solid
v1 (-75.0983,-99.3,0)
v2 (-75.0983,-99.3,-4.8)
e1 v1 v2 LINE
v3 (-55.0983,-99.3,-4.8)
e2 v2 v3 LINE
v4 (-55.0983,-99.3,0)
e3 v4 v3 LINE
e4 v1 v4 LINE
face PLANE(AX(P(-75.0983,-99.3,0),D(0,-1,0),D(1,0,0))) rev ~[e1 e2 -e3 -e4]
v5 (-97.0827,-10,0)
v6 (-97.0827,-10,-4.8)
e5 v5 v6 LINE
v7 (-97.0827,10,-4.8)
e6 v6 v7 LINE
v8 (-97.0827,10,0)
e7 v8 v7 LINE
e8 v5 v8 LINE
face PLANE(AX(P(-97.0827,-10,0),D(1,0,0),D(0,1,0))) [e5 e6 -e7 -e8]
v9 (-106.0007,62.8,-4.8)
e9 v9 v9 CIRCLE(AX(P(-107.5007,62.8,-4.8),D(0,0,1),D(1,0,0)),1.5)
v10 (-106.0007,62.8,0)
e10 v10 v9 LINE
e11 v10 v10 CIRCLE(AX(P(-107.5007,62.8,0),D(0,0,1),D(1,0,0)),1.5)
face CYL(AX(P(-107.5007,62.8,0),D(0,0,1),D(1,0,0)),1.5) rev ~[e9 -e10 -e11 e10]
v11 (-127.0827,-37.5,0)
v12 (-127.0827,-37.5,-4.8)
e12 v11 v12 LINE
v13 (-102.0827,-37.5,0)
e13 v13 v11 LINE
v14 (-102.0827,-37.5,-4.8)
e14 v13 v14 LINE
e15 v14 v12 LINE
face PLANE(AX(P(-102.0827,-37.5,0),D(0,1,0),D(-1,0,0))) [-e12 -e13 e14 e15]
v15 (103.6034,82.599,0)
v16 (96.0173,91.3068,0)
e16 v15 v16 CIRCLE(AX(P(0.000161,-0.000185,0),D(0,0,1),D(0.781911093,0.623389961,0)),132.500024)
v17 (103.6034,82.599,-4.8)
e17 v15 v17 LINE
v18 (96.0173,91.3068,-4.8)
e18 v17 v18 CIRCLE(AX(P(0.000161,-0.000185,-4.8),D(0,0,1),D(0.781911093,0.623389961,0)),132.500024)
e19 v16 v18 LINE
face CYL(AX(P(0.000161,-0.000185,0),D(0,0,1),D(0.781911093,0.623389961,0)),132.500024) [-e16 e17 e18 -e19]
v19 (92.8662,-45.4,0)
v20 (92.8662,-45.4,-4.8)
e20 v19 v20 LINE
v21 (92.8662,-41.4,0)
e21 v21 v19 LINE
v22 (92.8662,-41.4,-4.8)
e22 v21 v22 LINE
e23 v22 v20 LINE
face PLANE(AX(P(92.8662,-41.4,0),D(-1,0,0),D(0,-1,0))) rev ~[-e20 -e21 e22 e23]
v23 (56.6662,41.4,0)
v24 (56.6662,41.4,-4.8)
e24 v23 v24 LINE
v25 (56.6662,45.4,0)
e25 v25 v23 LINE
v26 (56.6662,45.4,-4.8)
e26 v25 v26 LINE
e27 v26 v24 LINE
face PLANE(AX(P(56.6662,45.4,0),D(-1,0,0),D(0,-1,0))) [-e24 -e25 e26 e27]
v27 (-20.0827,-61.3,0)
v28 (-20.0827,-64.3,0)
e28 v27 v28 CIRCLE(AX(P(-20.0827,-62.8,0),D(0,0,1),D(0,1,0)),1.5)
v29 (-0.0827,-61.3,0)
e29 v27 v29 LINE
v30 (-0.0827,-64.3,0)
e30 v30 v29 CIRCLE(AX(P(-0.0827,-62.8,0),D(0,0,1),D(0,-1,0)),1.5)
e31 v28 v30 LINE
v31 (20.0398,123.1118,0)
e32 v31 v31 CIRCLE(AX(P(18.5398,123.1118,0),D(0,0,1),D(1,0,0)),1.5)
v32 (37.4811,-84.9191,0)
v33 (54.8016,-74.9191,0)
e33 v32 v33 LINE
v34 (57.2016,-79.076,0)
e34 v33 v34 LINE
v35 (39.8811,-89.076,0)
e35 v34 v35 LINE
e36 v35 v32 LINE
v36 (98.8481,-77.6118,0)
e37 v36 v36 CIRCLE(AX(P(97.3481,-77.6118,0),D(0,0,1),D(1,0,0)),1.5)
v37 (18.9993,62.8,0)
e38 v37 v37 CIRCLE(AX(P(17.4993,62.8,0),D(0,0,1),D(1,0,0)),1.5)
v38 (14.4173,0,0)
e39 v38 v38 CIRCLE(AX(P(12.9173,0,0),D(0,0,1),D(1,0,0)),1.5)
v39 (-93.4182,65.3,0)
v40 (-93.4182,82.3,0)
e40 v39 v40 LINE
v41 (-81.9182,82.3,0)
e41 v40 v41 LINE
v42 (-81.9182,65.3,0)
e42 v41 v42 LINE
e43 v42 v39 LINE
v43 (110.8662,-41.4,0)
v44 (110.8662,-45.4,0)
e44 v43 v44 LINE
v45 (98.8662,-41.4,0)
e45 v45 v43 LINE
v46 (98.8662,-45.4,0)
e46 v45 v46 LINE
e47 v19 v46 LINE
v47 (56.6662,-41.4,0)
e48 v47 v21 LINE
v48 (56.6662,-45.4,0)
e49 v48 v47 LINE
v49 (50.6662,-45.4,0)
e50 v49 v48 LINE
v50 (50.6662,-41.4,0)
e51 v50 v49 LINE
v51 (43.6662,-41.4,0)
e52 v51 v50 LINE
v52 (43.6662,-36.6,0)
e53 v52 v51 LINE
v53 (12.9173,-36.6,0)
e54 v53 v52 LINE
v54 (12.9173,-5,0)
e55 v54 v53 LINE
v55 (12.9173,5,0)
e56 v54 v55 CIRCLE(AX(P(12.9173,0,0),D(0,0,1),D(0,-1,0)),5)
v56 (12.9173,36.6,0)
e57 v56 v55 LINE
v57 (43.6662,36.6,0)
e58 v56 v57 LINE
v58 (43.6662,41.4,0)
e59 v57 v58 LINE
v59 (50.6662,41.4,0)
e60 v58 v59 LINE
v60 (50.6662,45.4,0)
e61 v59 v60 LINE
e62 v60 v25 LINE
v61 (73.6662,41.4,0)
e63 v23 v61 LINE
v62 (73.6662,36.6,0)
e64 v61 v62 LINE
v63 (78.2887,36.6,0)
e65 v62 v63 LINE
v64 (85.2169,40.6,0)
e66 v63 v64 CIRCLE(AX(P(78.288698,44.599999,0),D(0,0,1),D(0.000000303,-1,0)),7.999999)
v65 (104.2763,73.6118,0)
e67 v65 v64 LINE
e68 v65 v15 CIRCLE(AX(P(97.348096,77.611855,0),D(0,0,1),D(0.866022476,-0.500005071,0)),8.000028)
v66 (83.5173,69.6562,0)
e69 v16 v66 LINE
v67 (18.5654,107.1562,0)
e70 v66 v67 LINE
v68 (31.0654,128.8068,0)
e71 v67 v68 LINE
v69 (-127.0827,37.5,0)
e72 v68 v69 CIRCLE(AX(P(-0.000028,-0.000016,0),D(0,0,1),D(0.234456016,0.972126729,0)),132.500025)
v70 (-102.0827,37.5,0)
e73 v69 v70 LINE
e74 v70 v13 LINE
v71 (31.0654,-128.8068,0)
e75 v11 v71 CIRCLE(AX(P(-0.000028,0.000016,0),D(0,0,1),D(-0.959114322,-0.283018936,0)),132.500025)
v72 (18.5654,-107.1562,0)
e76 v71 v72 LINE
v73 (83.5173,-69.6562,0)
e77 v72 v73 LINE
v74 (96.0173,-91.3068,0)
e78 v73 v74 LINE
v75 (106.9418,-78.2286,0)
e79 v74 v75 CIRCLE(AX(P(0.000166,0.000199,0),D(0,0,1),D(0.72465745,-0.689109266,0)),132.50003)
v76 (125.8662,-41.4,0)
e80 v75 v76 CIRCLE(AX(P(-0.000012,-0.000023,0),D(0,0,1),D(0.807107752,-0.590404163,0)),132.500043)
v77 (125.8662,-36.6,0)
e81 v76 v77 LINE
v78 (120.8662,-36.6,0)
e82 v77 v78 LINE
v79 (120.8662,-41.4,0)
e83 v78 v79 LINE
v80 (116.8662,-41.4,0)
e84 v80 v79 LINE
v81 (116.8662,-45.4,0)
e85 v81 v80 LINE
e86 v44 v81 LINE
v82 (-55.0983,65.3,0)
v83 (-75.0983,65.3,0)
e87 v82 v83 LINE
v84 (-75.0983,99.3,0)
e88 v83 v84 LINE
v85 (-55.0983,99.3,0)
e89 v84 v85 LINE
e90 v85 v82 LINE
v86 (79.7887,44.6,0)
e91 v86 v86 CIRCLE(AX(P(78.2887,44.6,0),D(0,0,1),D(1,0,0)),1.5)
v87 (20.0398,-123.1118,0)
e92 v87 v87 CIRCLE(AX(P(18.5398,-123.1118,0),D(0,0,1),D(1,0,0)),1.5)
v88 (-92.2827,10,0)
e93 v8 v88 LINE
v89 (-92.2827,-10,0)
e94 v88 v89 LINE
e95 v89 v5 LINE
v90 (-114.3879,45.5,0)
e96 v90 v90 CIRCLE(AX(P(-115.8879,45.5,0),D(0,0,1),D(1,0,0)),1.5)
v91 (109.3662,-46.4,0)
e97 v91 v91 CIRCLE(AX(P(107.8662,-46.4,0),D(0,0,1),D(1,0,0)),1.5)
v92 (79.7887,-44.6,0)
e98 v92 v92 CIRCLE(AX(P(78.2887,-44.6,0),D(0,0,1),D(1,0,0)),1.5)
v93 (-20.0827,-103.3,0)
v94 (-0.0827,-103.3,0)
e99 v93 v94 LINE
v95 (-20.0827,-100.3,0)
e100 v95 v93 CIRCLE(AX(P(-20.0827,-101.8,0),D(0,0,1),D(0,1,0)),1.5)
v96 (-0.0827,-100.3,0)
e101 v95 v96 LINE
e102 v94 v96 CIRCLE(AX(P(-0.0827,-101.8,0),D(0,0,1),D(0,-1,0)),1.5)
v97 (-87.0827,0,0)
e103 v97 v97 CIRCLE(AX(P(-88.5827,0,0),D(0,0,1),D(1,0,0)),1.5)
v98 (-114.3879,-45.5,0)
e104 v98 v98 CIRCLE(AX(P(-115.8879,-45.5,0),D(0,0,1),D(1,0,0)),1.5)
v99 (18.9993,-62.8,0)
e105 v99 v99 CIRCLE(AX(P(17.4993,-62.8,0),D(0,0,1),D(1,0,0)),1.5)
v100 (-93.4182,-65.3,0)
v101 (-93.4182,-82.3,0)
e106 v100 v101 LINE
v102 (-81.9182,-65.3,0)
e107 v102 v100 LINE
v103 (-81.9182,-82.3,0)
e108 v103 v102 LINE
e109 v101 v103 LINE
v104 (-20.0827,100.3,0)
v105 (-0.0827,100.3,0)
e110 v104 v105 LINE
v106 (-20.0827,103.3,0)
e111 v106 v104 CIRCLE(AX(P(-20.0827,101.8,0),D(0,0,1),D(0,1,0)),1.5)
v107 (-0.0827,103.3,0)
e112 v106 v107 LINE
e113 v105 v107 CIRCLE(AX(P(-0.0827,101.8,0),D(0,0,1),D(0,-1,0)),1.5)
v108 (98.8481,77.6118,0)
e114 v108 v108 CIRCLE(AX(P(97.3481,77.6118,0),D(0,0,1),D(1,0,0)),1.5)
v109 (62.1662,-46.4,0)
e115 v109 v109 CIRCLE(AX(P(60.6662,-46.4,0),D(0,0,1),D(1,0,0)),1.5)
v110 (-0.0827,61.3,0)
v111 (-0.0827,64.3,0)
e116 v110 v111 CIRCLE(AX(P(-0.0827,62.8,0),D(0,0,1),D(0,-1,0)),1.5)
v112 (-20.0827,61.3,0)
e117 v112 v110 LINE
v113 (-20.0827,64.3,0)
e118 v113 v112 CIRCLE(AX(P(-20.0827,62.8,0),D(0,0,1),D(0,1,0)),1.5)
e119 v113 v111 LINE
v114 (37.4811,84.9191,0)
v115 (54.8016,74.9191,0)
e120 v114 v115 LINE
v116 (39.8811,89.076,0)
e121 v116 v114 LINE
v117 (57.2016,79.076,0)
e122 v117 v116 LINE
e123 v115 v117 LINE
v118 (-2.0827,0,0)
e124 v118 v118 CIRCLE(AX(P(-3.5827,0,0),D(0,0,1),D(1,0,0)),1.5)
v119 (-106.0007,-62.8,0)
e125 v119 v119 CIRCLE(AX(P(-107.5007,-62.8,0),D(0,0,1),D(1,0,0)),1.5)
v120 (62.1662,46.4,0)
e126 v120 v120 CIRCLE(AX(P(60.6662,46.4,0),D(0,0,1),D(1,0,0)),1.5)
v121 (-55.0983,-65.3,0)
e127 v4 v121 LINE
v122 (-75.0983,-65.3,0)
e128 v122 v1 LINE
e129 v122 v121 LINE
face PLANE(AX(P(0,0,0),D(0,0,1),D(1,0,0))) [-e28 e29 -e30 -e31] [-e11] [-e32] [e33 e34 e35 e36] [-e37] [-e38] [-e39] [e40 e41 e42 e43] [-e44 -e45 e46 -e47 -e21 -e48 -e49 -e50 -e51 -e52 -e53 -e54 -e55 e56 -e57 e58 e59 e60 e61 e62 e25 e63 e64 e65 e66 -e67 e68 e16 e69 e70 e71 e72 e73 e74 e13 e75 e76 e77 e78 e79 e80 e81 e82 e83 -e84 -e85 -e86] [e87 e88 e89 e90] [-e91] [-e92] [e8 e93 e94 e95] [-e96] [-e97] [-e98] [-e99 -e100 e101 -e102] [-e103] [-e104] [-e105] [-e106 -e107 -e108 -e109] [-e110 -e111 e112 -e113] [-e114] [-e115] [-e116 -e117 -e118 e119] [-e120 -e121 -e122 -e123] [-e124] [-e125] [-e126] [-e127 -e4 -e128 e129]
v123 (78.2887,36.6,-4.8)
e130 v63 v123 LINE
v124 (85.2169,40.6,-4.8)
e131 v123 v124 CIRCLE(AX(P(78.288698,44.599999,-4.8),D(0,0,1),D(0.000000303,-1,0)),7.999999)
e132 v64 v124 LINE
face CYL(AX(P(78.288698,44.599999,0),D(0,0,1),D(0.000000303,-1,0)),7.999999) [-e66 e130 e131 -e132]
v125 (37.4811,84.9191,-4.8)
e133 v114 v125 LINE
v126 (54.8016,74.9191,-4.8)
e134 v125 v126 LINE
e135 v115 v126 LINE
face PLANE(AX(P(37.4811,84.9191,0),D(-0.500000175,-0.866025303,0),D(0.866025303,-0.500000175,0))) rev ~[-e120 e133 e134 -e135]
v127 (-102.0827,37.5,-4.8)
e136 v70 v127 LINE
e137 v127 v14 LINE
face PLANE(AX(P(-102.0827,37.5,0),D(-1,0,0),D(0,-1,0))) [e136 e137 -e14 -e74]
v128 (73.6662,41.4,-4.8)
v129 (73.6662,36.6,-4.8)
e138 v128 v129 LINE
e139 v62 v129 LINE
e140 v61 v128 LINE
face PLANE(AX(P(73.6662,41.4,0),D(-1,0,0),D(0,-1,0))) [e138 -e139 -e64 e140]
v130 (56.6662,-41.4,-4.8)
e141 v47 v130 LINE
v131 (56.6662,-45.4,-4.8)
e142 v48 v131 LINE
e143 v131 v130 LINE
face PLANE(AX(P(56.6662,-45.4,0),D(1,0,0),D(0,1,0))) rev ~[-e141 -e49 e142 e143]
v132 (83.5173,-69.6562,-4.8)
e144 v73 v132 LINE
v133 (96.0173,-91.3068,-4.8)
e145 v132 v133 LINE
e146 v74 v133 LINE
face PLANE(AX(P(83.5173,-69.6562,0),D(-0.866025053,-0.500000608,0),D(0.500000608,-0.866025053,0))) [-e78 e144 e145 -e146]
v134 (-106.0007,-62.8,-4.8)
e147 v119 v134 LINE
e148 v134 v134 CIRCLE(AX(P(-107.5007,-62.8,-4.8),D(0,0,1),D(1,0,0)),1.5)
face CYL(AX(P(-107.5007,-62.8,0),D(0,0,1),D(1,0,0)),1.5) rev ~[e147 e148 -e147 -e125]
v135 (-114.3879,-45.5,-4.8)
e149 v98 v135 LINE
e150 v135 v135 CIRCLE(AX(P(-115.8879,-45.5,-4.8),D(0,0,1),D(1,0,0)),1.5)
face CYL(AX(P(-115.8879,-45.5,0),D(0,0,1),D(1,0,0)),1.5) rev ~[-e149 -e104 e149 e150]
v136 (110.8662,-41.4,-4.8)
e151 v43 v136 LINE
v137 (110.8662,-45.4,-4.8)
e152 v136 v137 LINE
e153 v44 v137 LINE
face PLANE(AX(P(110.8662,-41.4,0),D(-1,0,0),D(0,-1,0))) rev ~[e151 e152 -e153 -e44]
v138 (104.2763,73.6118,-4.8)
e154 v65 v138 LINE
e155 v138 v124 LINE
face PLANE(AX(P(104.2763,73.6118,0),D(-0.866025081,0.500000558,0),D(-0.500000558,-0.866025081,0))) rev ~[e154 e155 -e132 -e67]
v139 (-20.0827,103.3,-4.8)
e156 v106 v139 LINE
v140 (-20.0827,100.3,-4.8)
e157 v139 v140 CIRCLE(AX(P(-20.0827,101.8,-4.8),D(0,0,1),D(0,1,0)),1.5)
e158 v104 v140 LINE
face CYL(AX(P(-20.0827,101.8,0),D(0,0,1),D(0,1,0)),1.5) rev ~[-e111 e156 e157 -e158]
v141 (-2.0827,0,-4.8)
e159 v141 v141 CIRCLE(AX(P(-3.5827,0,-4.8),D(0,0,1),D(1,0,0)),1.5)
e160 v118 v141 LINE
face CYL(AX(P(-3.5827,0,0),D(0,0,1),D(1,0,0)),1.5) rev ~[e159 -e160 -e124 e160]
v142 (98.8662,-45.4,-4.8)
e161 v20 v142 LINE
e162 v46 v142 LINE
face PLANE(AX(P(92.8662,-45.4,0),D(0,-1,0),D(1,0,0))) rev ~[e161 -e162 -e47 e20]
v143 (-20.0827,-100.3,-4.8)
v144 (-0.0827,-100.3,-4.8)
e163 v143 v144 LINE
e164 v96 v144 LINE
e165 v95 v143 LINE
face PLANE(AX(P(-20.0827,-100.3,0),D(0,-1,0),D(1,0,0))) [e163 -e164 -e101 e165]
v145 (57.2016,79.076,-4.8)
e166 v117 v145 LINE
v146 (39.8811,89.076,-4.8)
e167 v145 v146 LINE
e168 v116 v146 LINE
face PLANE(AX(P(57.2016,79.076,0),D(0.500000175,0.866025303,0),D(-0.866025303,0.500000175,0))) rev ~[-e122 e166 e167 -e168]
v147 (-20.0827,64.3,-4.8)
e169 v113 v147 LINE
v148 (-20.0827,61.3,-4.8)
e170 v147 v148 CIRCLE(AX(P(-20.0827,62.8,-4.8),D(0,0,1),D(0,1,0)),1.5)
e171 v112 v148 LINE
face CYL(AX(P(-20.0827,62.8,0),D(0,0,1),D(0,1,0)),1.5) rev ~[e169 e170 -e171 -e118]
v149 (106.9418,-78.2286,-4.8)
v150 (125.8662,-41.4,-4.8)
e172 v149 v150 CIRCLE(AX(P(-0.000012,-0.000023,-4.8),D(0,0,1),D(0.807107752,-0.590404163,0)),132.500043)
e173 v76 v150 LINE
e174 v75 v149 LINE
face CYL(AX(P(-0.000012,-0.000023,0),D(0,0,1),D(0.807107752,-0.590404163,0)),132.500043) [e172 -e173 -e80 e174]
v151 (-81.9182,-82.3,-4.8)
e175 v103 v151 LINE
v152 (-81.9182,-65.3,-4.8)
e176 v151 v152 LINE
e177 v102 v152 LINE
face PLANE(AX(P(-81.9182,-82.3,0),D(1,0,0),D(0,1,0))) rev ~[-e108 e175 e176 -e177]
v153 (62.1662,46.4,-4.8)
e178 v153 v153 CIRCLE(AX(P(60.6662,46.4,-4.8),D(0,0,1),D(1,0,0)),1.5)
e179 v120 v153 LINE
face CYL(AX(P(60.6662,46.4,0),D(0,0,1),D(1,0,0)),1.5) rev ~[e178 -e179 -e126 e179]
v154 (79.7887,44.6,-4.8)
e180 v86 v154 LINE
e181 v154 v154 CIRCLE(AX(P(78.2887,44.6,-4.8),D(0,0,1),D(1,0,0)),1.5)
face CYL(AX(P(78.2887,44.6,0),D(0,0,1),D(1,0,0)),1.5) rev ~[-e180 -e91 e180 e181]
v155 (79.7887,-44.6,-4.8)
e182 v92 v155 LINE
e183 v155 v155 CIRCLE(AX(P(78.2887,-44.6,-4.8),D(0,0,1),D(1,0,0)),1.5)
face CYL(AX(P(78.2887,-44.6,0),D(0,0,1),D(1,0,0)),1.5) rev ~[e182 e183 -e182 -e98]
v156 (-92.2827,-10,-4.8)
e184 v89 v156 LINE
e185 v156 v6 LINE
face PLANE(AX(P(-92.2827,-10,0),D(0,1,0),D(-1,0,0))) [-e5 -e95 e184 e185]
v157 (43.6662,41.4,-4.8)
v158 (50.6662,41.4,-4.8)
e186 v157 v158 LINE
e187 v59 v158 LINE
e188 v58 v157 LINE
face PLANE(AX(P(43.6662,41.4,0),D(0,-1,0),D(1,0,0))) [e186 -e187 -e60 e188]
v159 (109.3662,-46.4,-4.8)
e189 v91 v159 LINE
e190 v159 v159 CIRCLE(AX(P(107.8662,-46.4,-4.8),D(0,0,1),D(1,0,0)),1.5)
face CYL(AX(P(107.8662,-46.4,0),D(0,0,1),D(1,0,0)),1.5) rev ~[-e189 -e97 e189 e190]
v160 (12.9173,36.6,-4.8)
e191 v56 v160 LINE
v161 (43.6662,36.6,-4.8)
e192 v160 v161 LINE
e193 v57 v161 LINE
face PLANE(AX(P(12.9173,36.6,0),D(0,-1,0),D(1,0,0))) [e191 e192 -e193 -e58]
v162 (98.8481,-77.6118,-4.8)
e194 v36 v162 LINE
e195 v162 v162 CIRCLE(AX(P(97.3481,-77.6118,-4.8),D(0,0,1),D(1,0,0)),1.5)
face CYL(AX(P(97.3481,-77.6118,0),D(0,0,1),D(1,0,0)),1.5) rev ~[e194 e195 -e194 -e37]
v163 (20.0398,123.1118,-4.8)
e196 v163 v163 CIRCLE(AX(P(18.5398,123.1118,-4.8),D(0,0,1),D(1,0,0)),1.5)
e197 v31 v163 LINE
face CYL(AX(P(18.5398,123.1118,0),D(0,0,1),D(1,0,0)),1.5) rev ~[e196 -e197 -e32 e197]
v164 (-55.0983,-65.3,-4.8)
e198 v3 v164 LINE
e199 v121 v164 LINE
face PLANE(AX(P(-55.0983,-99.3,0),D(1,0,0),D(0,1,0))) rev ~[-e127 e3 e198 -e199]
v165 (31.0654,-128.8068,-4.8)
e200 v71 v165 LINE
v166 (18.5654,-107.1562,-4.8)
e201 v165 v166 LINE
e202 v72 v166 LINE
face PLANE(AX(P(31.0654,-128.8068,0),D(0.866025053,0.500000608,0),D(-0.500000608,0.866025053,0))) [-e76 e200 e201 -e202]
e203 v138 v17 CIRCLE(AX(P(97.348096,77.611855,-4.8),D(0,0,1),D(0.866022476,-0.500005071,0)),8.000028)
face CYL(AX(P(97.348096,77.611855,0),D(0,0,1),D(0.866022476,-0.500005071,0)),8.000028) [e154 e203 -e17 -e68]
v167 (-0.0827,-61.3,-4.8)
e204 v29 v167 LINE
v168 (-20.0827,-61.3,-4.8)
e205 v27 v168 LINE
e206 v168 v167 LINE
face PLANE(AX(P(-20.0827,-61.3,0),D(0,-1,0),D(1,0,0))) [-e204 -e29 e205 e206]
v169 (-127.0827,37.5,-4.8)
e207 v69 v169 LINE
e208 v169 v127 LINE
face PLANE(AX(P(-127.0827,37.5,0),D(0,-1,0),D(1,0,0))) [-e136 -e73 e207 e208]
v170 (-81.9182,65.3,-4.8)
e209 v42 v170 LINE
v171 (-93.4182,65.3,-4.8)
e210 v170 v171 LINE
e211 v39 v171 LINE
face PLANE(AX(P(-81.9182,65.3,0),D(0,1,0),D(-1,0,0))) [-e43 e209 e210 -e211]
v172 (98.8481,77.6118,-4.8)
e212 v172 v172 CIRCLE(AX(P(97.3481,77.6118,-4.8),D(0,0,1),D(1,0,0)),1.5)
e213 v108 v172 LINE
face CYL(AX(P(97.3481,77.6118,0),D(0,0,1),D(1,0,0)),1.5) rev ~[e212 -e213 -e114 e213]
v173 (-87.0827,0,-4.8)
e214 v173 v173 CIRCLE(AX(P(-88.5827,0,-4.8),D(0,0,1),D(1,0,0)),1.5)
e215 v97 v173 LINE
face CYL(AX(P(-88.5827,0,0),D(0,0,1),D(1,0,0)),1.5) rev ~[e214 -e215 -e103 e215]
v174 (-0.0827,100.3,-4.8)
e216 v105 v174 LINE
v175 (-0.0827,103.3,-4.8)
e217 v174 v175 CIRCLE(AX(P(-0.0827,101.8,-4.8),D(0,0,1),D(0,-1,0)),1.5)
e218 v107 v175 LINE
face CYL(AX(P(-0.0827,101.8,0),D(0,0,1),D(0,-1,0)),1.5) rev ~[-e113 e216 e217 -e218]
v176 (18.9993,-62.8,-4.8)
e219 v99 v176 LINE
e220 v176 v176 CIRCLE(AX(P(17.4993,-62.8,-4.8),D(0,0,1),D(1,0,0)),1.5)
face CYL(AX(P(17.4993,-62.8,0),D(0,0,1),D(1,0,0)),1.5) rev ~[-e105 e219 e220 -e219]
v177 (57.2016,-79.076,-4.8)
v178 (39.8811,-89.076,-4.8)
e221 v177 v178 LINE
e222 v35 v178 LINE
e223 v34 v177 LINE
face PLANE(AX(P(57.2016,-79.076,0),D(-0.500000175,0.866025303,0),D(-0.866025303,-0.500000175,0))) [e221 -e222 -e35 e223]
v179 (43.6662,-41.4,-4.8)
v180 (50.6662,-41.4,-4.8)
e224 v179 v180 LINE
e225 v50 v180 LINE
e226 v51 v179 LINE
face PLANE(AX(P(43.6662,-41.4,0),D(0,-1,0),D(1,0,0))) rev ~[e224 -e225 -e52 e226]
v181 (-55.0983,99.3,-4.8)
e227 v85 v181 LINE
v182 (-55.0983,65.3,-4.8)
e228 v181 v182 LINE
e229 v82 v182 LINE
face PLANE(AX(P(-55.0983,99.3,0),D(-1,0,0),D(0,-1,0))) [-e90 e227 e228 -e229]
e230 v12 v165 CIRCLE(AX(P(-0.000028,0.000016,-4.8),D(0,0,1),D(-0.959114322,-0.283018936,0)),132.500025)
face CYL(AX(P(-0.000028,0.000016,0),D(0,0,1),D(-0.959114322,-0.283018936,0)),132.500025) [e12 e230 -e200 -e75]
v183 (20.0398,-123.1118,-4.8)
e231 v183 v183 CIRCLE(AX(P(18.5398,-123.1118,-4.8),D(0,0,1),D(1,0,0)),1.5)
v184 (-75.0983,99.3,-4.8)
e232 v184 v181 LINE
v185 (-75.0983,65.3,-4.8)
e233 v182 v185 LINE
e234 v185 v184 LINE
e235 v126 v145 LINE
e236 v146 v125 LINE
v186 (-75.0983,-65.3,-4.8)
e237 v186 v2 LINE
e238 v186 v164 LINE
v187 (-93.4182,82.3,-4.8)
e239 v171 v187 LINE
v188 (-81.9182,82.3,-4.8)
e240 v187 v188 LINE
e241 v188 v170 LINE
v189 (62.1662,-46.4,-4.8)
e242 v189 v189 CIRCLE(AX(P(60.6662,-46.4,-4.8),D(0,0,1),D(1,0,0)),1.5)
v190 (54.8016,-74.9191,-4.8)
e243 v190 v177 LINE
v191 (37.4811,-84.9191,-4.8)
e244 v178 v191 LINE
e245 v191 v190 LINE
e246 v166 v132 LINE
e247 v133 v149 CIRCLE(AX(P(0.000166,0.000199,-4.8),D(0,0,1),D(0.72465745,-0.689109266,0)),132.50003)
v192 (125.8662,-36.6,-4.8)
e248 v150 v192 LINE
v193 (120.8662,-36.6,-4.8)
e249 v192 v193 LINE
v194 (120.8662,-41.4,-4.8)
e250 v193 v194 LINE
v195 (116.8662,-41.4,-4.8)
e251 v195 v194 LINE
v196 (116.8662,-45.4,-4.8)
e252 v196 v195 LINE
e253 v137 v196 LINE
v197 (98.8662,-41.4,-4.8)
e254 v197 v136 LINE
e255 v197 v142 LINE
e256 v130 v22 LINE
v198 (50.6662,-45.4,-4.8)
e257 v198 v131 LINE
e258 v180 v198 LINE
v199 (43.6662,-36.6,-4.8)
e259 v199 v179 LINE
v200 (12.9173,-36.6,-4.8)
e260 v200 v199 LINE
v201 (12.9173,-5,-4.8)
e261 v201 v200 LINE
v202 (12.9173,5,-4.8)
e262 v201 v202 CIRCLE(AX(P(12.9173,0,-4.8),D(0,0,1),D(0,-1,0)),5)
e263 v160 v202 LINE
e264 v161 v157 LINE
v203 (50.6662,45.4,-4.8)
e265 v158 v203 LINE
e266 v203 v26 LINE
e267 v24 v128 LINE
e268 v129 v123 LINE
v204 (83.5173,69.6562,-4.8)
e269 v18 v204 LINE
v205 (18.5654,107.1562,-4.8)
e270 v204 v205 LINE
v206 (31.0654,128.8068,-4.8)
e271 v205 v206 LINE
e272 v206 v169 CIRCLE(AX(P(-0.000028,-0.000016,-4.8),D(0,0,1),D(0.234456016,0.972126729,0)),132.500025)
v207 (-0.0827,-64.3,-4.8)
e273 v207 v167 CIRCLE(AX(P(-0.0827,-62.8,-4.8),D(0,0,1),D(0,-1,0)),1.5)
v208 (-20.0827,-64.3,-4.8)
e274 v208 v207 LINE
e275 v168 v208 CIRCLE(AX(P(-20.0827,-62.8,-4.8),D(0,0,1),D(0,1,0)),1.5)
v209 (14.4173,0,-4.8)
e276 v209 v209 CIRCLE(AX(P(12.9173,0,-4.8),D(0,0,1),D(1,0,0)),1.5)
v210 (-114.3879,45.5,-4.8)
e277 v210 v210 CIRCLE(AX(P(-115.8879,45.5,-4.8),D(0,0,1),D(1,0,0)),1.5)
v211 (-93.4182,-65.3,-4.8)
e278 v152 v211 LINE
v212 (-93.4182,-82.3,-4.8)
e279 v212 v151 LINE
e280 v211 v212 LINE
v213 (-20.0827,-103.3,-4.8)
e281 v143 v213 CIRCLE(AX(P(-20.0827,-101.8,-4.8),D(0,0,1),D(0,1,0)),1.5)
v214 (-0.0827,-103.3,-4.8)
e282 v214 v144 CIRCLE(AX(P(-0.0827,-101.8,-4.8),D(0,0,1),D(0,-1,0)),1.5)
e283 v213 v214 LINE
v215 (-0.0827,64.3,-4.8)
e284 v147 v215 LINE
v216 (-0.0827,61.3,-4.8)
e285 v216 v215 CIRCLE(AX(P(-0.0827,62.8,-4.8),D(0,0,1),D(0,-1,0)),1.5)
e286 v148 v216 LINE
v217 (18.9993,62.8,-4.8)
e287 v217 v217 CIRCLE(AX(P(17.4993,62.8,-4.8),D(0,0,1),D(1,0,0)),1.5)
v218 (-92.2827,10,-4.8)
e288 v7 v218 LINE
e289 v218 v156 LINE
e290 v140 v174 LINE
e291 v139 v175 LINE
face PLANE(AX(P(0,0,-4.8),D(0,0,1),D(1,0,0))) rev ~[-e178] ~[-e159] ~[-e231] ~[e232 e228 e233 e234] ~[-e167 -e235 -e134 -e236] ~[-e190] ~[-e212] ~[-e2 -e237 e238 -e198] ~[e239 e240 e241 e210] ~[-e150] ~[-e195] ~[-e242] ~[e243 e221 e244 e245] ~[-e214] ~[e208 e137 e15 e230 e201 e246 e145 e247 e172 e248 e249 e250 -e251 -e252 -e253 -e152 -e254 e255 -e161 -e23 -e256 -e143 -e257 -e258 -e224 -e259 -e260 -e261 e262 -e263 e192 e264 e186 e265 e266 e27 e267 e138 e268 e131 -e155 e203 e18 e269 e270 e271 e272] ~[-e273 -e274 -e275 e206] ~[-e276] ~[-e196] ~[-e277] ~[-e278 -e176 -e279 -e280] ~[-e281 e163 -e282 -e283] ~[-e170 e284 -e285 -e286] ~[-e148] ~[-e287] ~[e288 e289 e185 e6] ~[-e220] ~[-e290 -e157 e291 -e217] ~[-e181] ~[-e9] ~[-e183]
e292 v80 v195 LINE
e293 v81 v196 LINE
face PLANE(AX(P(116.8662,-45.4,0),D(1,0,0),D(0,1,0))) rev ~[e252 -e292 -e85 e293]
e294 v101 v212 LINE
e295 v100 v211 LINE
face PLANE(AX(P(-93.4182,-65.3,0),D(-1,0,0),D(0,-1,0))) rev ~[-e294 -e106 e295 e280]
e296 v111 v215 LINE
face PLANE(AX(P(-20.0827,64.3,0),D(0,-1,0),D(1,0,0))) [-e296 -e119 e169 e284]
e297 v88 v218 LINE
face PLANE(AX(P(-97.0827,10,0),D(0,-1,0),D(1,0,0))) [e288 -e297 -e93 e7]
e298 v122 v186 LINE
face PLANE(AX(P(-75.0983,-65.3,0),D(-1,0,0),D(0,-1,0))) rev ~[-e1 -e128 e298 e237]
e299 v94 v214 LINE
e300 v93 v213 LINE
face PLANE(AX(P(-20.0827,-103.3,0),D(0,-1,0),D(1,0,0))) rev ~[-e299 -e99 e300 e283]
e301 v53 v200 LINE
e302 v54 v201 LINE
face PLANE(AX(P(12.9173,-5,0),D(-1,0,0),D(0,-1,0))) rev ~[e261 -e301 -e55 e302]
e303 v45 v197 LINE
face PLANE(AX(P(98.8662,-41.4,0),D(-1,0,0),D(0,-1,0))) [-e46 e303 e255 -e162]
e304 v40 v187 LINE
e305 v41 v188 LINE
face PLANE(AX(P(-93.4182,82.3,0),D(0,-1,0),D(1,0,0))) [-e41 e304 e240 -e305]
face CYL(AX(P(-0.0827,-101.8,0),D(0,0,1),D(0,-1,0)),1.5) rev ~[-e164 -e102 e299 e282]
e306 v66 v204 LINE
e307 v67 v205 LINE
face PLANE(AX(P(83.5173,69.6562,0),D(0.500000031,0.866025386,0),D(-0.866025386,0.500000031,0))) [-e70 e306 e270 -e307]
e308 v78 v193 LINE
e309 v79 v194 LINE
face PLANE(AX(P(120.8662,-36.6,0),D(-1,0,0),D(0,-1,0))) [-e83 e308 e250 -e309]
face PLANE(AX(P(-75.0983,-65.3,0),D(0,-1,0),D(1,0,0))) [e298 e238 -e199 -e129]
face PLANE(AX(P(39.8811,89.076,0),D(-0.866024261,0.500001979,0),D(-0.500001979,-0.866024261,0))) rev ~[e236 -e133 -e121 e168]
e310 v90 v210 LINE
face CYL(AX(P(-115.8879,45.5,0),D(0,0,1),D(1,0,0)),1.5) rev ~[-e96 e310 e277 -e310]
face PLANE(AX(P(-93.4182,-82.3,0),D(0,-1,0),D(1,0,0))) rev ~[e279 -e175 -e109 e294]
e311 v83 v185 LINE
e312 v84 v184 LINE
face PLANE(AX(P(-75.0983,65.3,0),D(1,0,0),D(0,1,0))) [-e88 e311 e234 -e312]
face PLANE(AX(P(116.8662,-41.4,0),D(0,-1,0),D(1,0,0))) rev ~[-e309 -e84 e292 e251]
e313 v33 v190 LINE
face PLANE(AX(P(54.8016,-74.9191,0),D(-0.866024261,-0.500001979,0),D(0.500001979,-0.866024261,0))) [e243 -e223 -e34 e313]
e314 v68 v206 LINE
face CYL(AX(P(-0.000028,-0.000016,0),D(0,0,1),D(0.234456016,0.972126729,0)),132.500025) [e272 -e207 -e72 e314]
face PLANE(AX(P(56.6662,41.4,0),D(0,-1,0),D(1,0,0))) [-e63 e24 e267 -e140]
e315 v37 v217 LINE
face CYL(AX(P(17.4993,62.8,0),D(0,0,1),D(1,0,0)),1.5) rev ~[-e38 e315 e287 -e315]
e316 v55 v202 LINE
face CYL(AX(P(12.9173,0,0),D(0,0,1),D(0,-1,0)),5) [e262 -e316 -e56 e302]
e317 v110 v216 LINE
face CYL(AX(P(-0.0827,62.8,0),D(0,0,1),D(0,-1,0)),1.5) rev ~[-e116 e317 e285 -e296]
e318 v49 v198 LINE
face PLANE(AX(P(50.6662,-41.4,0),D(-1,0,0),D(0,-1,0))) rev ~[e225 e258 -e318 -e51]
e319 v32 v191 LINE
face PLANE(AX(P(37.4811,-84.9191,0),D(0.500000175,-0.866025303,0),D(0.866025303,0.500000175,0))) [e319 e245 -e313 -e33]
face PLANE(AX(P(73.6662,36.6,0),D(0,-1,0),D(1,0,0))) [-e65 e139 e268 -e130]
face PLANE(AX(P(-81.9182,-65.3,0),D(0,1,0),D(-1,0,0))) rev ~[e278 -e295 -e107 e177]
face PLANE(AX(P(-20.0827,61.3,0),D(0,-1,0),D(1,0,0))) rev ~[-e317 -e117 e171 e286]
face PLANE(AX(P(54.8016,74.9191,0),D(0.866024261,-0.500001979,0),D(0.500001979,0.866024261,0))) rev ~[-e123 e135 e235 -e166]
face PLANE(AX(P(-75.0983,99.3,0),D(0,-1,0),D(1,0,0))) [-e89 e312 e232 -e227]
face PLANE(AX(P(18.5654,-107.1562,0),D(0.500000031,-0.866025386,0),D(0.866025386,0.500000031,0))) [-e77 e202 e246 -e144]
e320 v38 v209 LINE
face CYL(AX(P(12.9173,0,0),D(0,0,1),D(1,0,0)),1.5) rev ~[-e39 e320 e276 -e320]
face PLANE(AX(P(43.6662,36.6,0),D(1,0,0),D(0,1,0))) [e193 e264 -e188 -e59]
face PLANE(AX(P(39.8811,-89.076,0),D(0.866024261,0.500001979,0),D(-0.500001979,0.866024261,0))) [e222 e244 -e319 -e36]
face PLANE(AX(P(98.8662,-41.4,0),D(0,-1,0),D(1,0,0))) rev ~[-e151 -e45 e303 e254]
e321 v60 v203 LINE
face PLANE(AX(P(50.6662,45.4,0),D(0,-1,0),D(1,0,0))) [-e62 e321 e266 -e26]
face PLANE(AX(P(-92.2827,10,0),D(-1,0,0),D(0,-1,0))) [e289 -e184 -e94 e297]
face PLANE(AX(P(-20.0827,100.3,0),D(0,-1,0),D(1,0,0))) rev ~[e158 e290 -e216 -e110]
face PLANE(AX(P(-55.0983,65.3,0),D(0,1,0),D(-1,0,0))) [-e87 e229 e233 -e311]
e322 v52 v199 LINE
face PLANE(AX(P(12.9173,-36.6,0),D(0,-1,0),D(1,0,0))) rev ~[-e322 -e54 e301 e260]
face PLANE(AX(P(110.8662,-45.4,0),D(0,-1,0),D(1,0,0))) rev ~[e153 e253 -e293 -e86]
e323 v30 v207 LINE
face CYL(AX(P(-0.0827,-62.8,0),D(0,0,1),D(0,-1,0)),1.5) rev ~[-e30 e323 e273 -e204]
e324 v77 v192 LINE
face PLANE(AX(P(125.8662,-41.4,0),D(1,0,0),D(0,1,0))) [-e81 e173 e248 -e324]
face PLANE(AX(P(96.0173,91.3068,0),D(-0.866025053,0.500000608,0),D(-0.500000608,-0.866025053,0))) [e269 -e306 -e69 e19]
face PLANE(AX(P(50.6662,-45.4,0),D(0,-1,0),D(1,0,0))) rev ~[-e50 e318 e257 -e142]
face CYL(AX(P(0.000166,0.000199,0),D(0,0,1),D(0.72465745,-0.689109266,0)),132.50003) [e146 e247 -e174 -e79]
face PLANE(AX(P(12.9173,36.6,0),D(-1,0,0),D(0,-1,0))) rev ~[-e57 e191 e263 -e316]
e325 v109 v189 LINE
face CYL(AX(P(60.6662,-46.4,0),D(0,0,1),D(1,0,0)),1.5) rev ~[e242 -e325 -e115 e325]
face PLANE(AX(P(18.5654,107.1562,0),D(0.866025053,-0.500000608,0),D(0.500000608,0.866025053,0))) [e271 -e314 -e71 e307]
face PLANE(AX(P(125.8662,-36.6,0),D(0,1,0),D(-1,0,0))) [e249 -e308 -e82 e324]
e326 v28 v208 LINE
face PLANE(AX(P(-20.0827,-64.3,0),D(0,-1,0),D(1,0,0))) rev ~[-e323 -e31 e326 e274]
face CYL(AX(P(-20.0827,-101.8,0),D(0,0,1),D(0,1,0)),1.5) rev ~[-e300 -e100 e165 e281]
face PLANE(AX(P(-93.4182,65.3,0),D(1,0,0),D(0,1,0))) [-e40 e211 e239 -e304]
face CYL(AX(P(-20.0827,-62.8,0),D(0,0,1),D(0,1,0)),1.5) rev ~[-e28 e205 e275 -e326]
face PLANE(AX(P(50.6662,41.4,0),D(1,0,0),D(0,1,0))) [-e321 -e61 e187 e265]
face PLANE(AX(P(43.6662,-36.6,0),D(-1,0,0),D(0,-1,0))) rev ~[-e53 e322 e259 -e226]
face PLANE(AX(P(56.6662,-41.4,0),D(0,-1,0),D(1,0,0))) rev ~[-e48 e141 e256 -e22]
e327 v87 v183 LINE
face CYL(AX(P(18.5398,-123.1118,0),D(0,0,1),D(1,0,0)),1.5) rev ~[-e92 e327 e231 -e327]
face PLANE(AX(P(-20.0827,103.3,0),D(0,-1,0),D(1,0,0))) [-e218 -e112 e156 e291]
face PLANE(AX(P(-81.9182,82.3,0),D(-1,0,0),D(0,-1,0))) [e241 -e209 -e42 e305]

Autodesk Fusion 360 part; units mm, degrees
sketch "Sketch1" plane through (0, 0, 0) normal (0, 0, 1) x (1, 0, 0)
  line L0 (-127.0827, 37.5) -> (-102.0827, 37.5)
  line L1 (-102.0827, 37.5) -> (-102.0827, -37.5)
  line L2 (-102.0827, -37.5) -> (-127.0827, -37.5)
  line L3 (0, 0) -> (-132.5, 0) construction
  line L4 (-97.0827, 10) -> (-92.2827, 10)
  line L5 (-92.2827, 10) -> (-92.2827, -10)
  line L6 (-92.2827, -10) -> (-97.0827, -10)
  line L7 (-97.0827, -10) -> (-97.0827, 10)
  arc A0 (-127.0827, 37.5) -> (-132.5, 0) centre (0, 0) ccw construction
  arc A1 (-132.5, 0) -> (-127.0827, -37.5) centre (0, 0) ccw construction
  line L8 (0, 0) -> (66.25, -114.7484) construction
  line L9 (0, 0) -> (66.25, -114.7484) construction
  line L10 (31.0654, -128.8068) -> (18.5654, -107.1562)
  line L11 (18.5654, -107.1562) -> (83.5173, -69.6562)
  line L12 (83.5173, -69.6562) -> (96.0173, -91.3068)
  arc A2 (-127.0827, -37.5) -> (31.0654, -128.8068) centre (0, 0) ccw
  arc A3 (31.0654, -128.8068) -> (66.25, -114.7484) centre (0, 0) ccw construction
  line L13 (37.4811, -84.9191) -> (54.8016, -74.9191)
  line L14 (54.8016, -74.9191) -> (57.2016, -79.076)
  line L15 (57.2016, -79.076) -> (39.8811, -89.076)
  line L16 (39.8811, -89.076) -> (37.4811, -84.9191)
  line L17 (0, 0) -> (132.5, 0) construction
  line L18 (0, 0) -> (66.25, 114.7484) construction
  line L19 (96.0173, 91.3068) -> (83.5173, 69.6562)
  line L20 (83.5173, 69.6562) -> (18.5654, 107.1562)
  line L21 (18.5654, 107.1562) -> (31.0654, 128.8068)
  line L22 (57.2016, 79.076) -> (39.8811, 89.076)
  line L23 (39.8811, 89.076) -> (37.4811, 84.9191)
  line L24 (37.4811, 84.9191) -> (54.8016, 74.9191)
  line L25 (54.8016, 74.9191) -> (57.2016, 79.076)
  circle A4 centre (-115.8879, 45.5) radius 1.5
  circle A5 centre (0, 0) radius 124.5 construction
  circle A6 centre (-115.8879, -45.5) radius 1.5
  circle A7 centre (18.5398, -123.1118) radius 1.5
  circle A8 centre (97.3481, -77.6118) radius 1.5
  circle A9 centre (18.5398, 123.1118) radius 1.5
  arc A10 (66.25, -114.7484) -> (96.0173, -91.3068) centre (0, 0) ccw construction
  arc A11 (96.0173, 91.3068) -> (66.25, 114.7484) centre (0, 0) ccw construction
  arc A12 (31.0654, 128.8068) -> (-127.0827, 37.5) centre (0, 0) ccw
  arc A13 (66.25, 114.7484) -> (31.0654, 128.8068) centre (0, 0) ccw construction
  line L26 (125.8662, 41.4) -> (43.6662, 41.4) construction
  line L27 (43.6662, 41.4) -> (43.6662, -41.4) construction
  line L28 (43.6662, -41.4) -> (125.8662, -41.4) construction
  line L29 (43.6662, 36.6) -> (43.6662, 41.4)
  line L30 (73.6662, 41.4) -> (73.6662, 36.6)
  line L31 (73.6662, 36.6) -> (78.2887, 36.6)
  circle A14 centre (97.3481, 77.6118) radius 1.5
  line L32 (104.2763, 73.6118) -> (85.2169, 40.6)
  circle A15 centre (78.2887, 44.6) radius 1.5
  line L33 (43.6662, -36.6) -> (43.6662, -41.4)
  circle A16 centre (78.2887, -44.6) radius 1.5
  arc A17 (132.5, 0) -> (125.8662, 41.4) centre (0, 0) ccw construction
  arc A18 (103.6034, 82.599) -> (96.0173, 91.3068) centre (0, 0) ccw
  arc A19 (106.9418, 78.2286) -> (103.6034, 82.599) centre (0, 0) ccw construction
  line L34 (106.9418, 78.2286) -> (104.2763, 73.6118) construction
  arc A20 (125.8662, 41.4) -> (106.9418, 78.2286) centre (0, 0) ccw construction
  line L35 (78.2887, 36.6) -> (82.9075, 36.6) construction
  arc A21 (85.2169, 40.6) -> (78.2887, 36.6) centre (78.2887, 44.6) ccw construction
  arc A22 (78.2887, 36.6) -> (85.2169, 40.6) centre (78.2887, 44.6) ccw
  line L36 (85.2169, 40.6) -> (82.9075, 36.6) construction
  line L37 (106.9418, -78.2286) -> (85.6788, -41.4) construction
  arc A23 (125.8662, -41.4) -> (132.5, 0) centre (0, 0) ccw construction
  arc A24 (103.6034, 82.599) -> (104.2763, 73.6118) centre (97.3481, 77.6118) ccw construction
  arc A25 (104.2763, 73.6118) -> (103.6034, 82.599) centre (97.3481, 77.6118) ccw
  arc A26 (96.0173, -91.3068) -> (106.9418, -78.2286) centre (0, 0) ccw
  arc A27 (106.9418, -78.2286) -> (125.8662, -41.4) centre (0, 0) ccw
  line L38 (78.2887, 44.6) -> (78.2887, -44.6) construction
  line L39 (-102.0827, 58.3) -> (9.9173, 58.3) construction
  line L40 (9.9173, 58.3) -> (9.9173, -58.3) construction
  line L41 (9.9173, -58.3) -> (-102.0827, -58.3) construction
  line L42 (-102.0827, -58.3) -> (-102.0827, 58.3) construction
  circle A28 centre (-88.5827, 0) radius 1.5
  circle A29 centre (-3.5827, 0) radius 1.5
  circle A30 centre (-14.5827, -40.8) radius 5 construction
  line L43 (-20.0827, -61.3) -> (-0.0827, -61.3)
  line L44 (-20.0827, -64.3) -> (-0.0827, -64.3)
  arc A31 (-20.0827, -61.3) -> (-20.0827, -64.3) centre (-20.0827, -62.8) ccw
  arc A32 (-0.0827, -64.3) -> (-0.0827, -61.3) centre (-0.0827, -62.8) ccw
  line L45 (-45.0827, -65.3) -> (29.9173, -65.3) construction
  line L46 (29.9173, -65.3) -> (29.9173, -99.3) construction
  line L47 (29.9173, -99.3) -> (-45.0827, -99.3) construction
  line L48 (-45.0827, -99.3) -> (-45.0827, -65.3) construction
  line L49 (-20.0827, -100.3) -> (-0.0827, -100.3)
  line L50 (-20.0827, -103.3) -> (-0.0827, -103.3)
  arc A33 (-20.0827, -100.3) -> (-20.0827, -103.3) centre (-20.0827, -101.8) ccw
  arc A34 (-0.0827, -103.3) -> (-0.0827, -100.3) centre (-0.0827, -101.8) ccw
  line L51 (-20.0827, 61.3) -> (-0.0827, 61.3)
  line L52 (-20.0827, 64.3) -> (-0.0827, 64.3)
  arc A35 (-20.0827, 64.3) -> (-20.0827, 61.3) centre (-20.0827, 62.8) ccw
  arc A36 (-0.0827, 61.3) -> (-0.0827, 64.3) centre (-0.0827, 62.8) ccw
  line L53 (-45.0827, 65.3) -> (29.9173, 65.3) construction
  line L54 (29.9173, 65.3) -> (29.9173, 99.3) construction
  line L55 (29.9173, 99.3) -> (-45.0827, 99.3) construction
  line L56 (-45.0827, 99.3) -> (-45.0827, 65.3) construction
  line L57 (-20.0827, 100.3) -> (-0.0827, 100.3)
  line L58 (-20.0827, 103.3) -> (-0.0827, 103.3)
  arc A37 (-20.0827, 103.3) -> (-20.0827, 100.3) centre (-20.0827, 101.8) ccw
  arc A38 (-0.0827, 100.3) -> (-0.0827, 103.3) centre (-0.0827, 101.8) ccw
  line L59 (125.8662, -41.4) -> (125.8662, -36.6)
  line L60 (125.8662, -36.6) -> (120.8662, -36.6)
  line L61 (120.8662, -36.6) -> (120.8662, -41.4)
  line L62 (43.6662, -41.4) -> (40.4662, -41.4) construction
  line L63 (40.4662, -41.4) -> (40.4662, -36.6) construction
  line L64 (40.4662, -36.6) -> (43.6662, -36.6) construction
  line L65 (43.6662, 41.4) -> (40.4662, 41.4) construction
  line L66 (40.4662, 41.4) -> (40.4662, 36.6) construction
  line L67 (40.4662, 36.6) -> (43.6662, 36.6) construction
  circle A39 centre (107.8662, -46.4) radius 1.5
  line L68 (110.8662, -41.4) -> (110.8662, -45.4)
  line L69 (110.8662, -45.4) -> (116.8662, -45.4)
  line L70 (116.8662, -45.4) -> (116.8662, -41.4)
  line L71 (98.8662, -41.4) -> (98.8662, -45.4)
  line L72 (92.8662, -41.4) -> (92.8662, -45.4)
  line L73 (92.8662, -45.4) -> (98.8662, -45.4)
  line L74 (50.6662, -41.4) -> (50.6662, -45.4)
  line L75 (50.6662, -45.4) -> (56.6662, -45.4)
  line L76 (56.6662, -45.4) -> (56.6662, -41.4)
  circle A40 centre (60.6662, -46.4) radius 1.5
  line L77 (50.6662, 41.4) -> (50.6662, 45.4)
  line L78 (50.6662, 45.4) -> (56.6662, 45.4)
  line L79 (56.6662, 45.4) -> (56.6662, 41.4)
  circle A41 centre (60.6662, 46.4) radius 1.5
  line L80 (43.6662, -41.4) -> (50.6662, -41.4)
  line L81 (56.6662, -41.4) -> (92.8662, -41.4)
  line L82 (98.8662, -41.4) -> (110.8662, -41.4)
  line L83 (116.8662, -41.4) -> (120.8662, -41.4)
  line L84 (43.6662, 41.4) -> (50.6662, 41.4)
  line L85 (56.6662, 41.4) -> (73.6662, 41.4)
  circle A42 centre (12.9173, 0) radius 1.5
  line L86 (12.9173, 36.6) -> (43.6662, 36.6)
  line L87 (12.9173, -36.6) -> (43.6662, -36.6)
  line L88 (17.4993, -62.8) -> (-107.5007, -62.8) construction
  line L89 (17.4993, 62.8) -> (-107.5007, 62.8) construction
  circle A43 centre (-107.5007, 62.8) radius 1.5
  circle A44 centre (17.4993, 62.8) radius 1.5
  circle A45 centre (17.4993, -62.8) radius 1.5
  circle A46 centre (-107.5007, -62.8) radius 1.5
  line L90 (12.9173, 36.6) -> (12.9173, 5)
  line L91 (12.9173, -5) -> (12.9173, -36.6)
  line L92 (-93.4182, 82.3) -> (-81.9182, 82.3)
  line L93 (-81.9182, 82.3) -> (-81.9182, 65.3)
  line L94 (-81.9182, 65.3) -> (-93.4182, 65.3)
  line L95 (-93.4182, 65.3) -> (-93.4182, 82.3)
  line L96 (-93.4182, -82.3) -> (-81.9182, -82.3)
  line L97 (-81.9182, -82.3) -> (-81.9182, -65.3)
  line L98 (-81.9182, -65.3) -> (-93.4182, -65.3)
  line L99 (-93.4182, -65.3) -> (-93.4182, -82.3)
  line L100 (-75.0983, -99.3) -> (-55.0983, -99.3)
  line L101 (-55.0983, -99.3) -> (-55.0983, -65.3)
  line L102 (-75.0983, -65.3) -> (-75.0983, -99.3)
  line L103 (-75.0983, 99.3) -> (-55.0983, 99.3)
  line L104 (-55.0983, 99.3) -> (-55.0983, 65.3)
  line L105 (-55.0983, 65.3) -> (-75.0983, 65.3)
  line L106 (-75.0983, 65.3) -> (-75.0983, 99.3)
  line L107 (-75.0983, -65.3) -> (-55.0983, -65.3)
  line L108 (17.4993, 62.8) -> (17.4993, -62.8) construction
  line L109 (12.9173, 5) -> (12.9173, -5) construction
  arc A47 (12.9173, 5) -> (9.9173, 4) centre (12.9173, 0) ccw construction
  arc A48 (9.9173, 4) -> (9.9173, -4) centre (12.9173, 0) ccw construction
  arc A49 (12.9173, -5) -> (12.9173, 5) centre (12.9173, 0) ccw
  arc A50 (9.9173, -4) -> (12.9173, -5) centre (12.9173, 0) ccw construction
  line L110 (-81.9182, -65.3) -> (-75.0983, -65.3) construction
  line L111 (-81.9182, 65.3) -> (-75.0983, 65.3) construction
  point P0 (-102.0827, 0)
  point P1 (-97.0827, 0)
  point P2 (51.0413, -88.4062)
  point P3 (48.5413, -84.076)
  point P4 (51.0413, 88.4062)
  point P5 (48.5413, 84.076)
  point P6 (43.6662, 0)
  point P7 (78.2887, 0)
  point P8 (-102.0827, 0)
  point P9 (53.6662, 45.4)
  point P10 (53.6662, -45.4)
  point P11 (95.8662, -45.4)
  point P12 (113.8662, -45.4)
  point P13 (12.9173, 0)
  point P14 (17.4993, 0)
  dimension "d1" = 265
  dimension "d2" = 75
  dimension "d3" = 25
  dimension "d4" = 4.8
  dimension "d5" = 20
  dimension "d6" = 5
  dimension "d17" = 120
  dimension "d19" = 132.5
  dimension "d20" = 75
  dimension "d21" = 25
  dimension "d22" = 20
  dimension "d23" = 4.8
  dimension "d24" = 5
  dimension "d25" = 132.5
  dimension "d28" = 60
  dimension "d29" = 75
  dimension "d30" = 25
  dimension "d31" = 4.8
  dimension "d32" = 20
  dimension "d33" = 5
  dimension "d34" = 3
  dimension "d35" = 8
  dimension "d36" = 249
  dimension "d37" = 3
  dimension "d38" = 8
  dimension "d39" = 3
  dimension "d40" = 8
  dimension "d41" = 3
  dimension "d42" = 8
  dimension "d49" = 3
  dimension "d50" = 8
  dimension "d156" = 82.8
  dimension "d157" = 82.2
  dimension "d167" = 3
  dimension "d168" = 8
  dimension "d169" = 8
  dimension "d170" = 3
  dimension "d171" = 8
  dimension "d172" = 8
  dimension "d181" = 3
  dimension "d184" = 8
  dimension "d185" = 8
  dimension "d193" = 116.6
  dimension "d194" = 112
  dimension "d196" = 3
  dimension "d197" = 13.5
  dimension "d198" = 3
  dimension "d199" = 85
  dimension "d200" = 10
  dimension "d201" = 24.5
  dimension "d202" = 17.5
  dimension "d203" = 20
  dimension "d204" = 3
  dimension "d206" = 1
  dimension "d207" = 7
  dimension "d208" = 34
  dimension "d209" = 75
  dimension "d210" = 3
  dimension "d211" = 20
  dimension "d212" = 30
  dimension "d213" = 1
  dimension "d217" = 20
  dimension "d218" = 3
  dimension "d219" = 1
  dimension "d220" = 7
  dimension "d221" = 75
  dimension "d222" = 34
  dimension "d224" = 20
  dimension "d225" = 3
  dimension "d226" = 1
  dimension "d227" = 30
  dimension "d233" = 30
  dimension "d234" = 4.8
  dimension "d238" = 3.2
  dimension "d239" = 4.8
  dimension "d240" = 5
  dimension "d241" = 3.2
  dimension "d242" = 4.8
  dimension "d243" = 3.2
  dimension "d244" = 4.8
  dimension "d245" = 3
  dimension "d246" = 13
  dimension "d247" = 5
  dimension "d248" = 4
  dimension "d249" = 6
  dimension "d250" = 4
  dimension "d252" = 6
  dimension "d253" = 4
  dimension "d254" = 6
  dimension "d255" = 3
  dimension "d256" = 5
  dimension "d257" = 4
  dimension "d258" = 6
  dimension "d259" = 3
  dimension "d260" = 5
  dimension "d261" = 10
  dimension "d262" = 17
  dimension "d263" = 10
  dimension "d264" = 17
  dimension "d266" = 25
  dimension "d267" = 18
  dimension "d269" = 3
  dimension "d274" = 125
  dimension "d276" = 125
  dimension "d277" = 3
  dimension "d278" = 3
  dimension "d279" = 3
  dimension "d280" = 3
  dimension "d286" = 30
  dimension "d287" = 20
  dimension "d288" = 30
  dimension "d290" = 20
  dimension "d291" = 11.5
  dimension "d292" = 17
  dimension "d294" = 7
  dimension "d297" = 11.5
  dimension "d298" = 17
  dimension "d299" = 7
  dimension "d300" = 20
  dimension "d302" = 20
  dimension "d304" = 34
  dimension "d306" = 34
  dimension "d307" = 125.6
  dimension "d308" = 115
  dimension "d309" = 10
extrude "Extrude1" add sketch "Sketch1" against normal blind 4.8
